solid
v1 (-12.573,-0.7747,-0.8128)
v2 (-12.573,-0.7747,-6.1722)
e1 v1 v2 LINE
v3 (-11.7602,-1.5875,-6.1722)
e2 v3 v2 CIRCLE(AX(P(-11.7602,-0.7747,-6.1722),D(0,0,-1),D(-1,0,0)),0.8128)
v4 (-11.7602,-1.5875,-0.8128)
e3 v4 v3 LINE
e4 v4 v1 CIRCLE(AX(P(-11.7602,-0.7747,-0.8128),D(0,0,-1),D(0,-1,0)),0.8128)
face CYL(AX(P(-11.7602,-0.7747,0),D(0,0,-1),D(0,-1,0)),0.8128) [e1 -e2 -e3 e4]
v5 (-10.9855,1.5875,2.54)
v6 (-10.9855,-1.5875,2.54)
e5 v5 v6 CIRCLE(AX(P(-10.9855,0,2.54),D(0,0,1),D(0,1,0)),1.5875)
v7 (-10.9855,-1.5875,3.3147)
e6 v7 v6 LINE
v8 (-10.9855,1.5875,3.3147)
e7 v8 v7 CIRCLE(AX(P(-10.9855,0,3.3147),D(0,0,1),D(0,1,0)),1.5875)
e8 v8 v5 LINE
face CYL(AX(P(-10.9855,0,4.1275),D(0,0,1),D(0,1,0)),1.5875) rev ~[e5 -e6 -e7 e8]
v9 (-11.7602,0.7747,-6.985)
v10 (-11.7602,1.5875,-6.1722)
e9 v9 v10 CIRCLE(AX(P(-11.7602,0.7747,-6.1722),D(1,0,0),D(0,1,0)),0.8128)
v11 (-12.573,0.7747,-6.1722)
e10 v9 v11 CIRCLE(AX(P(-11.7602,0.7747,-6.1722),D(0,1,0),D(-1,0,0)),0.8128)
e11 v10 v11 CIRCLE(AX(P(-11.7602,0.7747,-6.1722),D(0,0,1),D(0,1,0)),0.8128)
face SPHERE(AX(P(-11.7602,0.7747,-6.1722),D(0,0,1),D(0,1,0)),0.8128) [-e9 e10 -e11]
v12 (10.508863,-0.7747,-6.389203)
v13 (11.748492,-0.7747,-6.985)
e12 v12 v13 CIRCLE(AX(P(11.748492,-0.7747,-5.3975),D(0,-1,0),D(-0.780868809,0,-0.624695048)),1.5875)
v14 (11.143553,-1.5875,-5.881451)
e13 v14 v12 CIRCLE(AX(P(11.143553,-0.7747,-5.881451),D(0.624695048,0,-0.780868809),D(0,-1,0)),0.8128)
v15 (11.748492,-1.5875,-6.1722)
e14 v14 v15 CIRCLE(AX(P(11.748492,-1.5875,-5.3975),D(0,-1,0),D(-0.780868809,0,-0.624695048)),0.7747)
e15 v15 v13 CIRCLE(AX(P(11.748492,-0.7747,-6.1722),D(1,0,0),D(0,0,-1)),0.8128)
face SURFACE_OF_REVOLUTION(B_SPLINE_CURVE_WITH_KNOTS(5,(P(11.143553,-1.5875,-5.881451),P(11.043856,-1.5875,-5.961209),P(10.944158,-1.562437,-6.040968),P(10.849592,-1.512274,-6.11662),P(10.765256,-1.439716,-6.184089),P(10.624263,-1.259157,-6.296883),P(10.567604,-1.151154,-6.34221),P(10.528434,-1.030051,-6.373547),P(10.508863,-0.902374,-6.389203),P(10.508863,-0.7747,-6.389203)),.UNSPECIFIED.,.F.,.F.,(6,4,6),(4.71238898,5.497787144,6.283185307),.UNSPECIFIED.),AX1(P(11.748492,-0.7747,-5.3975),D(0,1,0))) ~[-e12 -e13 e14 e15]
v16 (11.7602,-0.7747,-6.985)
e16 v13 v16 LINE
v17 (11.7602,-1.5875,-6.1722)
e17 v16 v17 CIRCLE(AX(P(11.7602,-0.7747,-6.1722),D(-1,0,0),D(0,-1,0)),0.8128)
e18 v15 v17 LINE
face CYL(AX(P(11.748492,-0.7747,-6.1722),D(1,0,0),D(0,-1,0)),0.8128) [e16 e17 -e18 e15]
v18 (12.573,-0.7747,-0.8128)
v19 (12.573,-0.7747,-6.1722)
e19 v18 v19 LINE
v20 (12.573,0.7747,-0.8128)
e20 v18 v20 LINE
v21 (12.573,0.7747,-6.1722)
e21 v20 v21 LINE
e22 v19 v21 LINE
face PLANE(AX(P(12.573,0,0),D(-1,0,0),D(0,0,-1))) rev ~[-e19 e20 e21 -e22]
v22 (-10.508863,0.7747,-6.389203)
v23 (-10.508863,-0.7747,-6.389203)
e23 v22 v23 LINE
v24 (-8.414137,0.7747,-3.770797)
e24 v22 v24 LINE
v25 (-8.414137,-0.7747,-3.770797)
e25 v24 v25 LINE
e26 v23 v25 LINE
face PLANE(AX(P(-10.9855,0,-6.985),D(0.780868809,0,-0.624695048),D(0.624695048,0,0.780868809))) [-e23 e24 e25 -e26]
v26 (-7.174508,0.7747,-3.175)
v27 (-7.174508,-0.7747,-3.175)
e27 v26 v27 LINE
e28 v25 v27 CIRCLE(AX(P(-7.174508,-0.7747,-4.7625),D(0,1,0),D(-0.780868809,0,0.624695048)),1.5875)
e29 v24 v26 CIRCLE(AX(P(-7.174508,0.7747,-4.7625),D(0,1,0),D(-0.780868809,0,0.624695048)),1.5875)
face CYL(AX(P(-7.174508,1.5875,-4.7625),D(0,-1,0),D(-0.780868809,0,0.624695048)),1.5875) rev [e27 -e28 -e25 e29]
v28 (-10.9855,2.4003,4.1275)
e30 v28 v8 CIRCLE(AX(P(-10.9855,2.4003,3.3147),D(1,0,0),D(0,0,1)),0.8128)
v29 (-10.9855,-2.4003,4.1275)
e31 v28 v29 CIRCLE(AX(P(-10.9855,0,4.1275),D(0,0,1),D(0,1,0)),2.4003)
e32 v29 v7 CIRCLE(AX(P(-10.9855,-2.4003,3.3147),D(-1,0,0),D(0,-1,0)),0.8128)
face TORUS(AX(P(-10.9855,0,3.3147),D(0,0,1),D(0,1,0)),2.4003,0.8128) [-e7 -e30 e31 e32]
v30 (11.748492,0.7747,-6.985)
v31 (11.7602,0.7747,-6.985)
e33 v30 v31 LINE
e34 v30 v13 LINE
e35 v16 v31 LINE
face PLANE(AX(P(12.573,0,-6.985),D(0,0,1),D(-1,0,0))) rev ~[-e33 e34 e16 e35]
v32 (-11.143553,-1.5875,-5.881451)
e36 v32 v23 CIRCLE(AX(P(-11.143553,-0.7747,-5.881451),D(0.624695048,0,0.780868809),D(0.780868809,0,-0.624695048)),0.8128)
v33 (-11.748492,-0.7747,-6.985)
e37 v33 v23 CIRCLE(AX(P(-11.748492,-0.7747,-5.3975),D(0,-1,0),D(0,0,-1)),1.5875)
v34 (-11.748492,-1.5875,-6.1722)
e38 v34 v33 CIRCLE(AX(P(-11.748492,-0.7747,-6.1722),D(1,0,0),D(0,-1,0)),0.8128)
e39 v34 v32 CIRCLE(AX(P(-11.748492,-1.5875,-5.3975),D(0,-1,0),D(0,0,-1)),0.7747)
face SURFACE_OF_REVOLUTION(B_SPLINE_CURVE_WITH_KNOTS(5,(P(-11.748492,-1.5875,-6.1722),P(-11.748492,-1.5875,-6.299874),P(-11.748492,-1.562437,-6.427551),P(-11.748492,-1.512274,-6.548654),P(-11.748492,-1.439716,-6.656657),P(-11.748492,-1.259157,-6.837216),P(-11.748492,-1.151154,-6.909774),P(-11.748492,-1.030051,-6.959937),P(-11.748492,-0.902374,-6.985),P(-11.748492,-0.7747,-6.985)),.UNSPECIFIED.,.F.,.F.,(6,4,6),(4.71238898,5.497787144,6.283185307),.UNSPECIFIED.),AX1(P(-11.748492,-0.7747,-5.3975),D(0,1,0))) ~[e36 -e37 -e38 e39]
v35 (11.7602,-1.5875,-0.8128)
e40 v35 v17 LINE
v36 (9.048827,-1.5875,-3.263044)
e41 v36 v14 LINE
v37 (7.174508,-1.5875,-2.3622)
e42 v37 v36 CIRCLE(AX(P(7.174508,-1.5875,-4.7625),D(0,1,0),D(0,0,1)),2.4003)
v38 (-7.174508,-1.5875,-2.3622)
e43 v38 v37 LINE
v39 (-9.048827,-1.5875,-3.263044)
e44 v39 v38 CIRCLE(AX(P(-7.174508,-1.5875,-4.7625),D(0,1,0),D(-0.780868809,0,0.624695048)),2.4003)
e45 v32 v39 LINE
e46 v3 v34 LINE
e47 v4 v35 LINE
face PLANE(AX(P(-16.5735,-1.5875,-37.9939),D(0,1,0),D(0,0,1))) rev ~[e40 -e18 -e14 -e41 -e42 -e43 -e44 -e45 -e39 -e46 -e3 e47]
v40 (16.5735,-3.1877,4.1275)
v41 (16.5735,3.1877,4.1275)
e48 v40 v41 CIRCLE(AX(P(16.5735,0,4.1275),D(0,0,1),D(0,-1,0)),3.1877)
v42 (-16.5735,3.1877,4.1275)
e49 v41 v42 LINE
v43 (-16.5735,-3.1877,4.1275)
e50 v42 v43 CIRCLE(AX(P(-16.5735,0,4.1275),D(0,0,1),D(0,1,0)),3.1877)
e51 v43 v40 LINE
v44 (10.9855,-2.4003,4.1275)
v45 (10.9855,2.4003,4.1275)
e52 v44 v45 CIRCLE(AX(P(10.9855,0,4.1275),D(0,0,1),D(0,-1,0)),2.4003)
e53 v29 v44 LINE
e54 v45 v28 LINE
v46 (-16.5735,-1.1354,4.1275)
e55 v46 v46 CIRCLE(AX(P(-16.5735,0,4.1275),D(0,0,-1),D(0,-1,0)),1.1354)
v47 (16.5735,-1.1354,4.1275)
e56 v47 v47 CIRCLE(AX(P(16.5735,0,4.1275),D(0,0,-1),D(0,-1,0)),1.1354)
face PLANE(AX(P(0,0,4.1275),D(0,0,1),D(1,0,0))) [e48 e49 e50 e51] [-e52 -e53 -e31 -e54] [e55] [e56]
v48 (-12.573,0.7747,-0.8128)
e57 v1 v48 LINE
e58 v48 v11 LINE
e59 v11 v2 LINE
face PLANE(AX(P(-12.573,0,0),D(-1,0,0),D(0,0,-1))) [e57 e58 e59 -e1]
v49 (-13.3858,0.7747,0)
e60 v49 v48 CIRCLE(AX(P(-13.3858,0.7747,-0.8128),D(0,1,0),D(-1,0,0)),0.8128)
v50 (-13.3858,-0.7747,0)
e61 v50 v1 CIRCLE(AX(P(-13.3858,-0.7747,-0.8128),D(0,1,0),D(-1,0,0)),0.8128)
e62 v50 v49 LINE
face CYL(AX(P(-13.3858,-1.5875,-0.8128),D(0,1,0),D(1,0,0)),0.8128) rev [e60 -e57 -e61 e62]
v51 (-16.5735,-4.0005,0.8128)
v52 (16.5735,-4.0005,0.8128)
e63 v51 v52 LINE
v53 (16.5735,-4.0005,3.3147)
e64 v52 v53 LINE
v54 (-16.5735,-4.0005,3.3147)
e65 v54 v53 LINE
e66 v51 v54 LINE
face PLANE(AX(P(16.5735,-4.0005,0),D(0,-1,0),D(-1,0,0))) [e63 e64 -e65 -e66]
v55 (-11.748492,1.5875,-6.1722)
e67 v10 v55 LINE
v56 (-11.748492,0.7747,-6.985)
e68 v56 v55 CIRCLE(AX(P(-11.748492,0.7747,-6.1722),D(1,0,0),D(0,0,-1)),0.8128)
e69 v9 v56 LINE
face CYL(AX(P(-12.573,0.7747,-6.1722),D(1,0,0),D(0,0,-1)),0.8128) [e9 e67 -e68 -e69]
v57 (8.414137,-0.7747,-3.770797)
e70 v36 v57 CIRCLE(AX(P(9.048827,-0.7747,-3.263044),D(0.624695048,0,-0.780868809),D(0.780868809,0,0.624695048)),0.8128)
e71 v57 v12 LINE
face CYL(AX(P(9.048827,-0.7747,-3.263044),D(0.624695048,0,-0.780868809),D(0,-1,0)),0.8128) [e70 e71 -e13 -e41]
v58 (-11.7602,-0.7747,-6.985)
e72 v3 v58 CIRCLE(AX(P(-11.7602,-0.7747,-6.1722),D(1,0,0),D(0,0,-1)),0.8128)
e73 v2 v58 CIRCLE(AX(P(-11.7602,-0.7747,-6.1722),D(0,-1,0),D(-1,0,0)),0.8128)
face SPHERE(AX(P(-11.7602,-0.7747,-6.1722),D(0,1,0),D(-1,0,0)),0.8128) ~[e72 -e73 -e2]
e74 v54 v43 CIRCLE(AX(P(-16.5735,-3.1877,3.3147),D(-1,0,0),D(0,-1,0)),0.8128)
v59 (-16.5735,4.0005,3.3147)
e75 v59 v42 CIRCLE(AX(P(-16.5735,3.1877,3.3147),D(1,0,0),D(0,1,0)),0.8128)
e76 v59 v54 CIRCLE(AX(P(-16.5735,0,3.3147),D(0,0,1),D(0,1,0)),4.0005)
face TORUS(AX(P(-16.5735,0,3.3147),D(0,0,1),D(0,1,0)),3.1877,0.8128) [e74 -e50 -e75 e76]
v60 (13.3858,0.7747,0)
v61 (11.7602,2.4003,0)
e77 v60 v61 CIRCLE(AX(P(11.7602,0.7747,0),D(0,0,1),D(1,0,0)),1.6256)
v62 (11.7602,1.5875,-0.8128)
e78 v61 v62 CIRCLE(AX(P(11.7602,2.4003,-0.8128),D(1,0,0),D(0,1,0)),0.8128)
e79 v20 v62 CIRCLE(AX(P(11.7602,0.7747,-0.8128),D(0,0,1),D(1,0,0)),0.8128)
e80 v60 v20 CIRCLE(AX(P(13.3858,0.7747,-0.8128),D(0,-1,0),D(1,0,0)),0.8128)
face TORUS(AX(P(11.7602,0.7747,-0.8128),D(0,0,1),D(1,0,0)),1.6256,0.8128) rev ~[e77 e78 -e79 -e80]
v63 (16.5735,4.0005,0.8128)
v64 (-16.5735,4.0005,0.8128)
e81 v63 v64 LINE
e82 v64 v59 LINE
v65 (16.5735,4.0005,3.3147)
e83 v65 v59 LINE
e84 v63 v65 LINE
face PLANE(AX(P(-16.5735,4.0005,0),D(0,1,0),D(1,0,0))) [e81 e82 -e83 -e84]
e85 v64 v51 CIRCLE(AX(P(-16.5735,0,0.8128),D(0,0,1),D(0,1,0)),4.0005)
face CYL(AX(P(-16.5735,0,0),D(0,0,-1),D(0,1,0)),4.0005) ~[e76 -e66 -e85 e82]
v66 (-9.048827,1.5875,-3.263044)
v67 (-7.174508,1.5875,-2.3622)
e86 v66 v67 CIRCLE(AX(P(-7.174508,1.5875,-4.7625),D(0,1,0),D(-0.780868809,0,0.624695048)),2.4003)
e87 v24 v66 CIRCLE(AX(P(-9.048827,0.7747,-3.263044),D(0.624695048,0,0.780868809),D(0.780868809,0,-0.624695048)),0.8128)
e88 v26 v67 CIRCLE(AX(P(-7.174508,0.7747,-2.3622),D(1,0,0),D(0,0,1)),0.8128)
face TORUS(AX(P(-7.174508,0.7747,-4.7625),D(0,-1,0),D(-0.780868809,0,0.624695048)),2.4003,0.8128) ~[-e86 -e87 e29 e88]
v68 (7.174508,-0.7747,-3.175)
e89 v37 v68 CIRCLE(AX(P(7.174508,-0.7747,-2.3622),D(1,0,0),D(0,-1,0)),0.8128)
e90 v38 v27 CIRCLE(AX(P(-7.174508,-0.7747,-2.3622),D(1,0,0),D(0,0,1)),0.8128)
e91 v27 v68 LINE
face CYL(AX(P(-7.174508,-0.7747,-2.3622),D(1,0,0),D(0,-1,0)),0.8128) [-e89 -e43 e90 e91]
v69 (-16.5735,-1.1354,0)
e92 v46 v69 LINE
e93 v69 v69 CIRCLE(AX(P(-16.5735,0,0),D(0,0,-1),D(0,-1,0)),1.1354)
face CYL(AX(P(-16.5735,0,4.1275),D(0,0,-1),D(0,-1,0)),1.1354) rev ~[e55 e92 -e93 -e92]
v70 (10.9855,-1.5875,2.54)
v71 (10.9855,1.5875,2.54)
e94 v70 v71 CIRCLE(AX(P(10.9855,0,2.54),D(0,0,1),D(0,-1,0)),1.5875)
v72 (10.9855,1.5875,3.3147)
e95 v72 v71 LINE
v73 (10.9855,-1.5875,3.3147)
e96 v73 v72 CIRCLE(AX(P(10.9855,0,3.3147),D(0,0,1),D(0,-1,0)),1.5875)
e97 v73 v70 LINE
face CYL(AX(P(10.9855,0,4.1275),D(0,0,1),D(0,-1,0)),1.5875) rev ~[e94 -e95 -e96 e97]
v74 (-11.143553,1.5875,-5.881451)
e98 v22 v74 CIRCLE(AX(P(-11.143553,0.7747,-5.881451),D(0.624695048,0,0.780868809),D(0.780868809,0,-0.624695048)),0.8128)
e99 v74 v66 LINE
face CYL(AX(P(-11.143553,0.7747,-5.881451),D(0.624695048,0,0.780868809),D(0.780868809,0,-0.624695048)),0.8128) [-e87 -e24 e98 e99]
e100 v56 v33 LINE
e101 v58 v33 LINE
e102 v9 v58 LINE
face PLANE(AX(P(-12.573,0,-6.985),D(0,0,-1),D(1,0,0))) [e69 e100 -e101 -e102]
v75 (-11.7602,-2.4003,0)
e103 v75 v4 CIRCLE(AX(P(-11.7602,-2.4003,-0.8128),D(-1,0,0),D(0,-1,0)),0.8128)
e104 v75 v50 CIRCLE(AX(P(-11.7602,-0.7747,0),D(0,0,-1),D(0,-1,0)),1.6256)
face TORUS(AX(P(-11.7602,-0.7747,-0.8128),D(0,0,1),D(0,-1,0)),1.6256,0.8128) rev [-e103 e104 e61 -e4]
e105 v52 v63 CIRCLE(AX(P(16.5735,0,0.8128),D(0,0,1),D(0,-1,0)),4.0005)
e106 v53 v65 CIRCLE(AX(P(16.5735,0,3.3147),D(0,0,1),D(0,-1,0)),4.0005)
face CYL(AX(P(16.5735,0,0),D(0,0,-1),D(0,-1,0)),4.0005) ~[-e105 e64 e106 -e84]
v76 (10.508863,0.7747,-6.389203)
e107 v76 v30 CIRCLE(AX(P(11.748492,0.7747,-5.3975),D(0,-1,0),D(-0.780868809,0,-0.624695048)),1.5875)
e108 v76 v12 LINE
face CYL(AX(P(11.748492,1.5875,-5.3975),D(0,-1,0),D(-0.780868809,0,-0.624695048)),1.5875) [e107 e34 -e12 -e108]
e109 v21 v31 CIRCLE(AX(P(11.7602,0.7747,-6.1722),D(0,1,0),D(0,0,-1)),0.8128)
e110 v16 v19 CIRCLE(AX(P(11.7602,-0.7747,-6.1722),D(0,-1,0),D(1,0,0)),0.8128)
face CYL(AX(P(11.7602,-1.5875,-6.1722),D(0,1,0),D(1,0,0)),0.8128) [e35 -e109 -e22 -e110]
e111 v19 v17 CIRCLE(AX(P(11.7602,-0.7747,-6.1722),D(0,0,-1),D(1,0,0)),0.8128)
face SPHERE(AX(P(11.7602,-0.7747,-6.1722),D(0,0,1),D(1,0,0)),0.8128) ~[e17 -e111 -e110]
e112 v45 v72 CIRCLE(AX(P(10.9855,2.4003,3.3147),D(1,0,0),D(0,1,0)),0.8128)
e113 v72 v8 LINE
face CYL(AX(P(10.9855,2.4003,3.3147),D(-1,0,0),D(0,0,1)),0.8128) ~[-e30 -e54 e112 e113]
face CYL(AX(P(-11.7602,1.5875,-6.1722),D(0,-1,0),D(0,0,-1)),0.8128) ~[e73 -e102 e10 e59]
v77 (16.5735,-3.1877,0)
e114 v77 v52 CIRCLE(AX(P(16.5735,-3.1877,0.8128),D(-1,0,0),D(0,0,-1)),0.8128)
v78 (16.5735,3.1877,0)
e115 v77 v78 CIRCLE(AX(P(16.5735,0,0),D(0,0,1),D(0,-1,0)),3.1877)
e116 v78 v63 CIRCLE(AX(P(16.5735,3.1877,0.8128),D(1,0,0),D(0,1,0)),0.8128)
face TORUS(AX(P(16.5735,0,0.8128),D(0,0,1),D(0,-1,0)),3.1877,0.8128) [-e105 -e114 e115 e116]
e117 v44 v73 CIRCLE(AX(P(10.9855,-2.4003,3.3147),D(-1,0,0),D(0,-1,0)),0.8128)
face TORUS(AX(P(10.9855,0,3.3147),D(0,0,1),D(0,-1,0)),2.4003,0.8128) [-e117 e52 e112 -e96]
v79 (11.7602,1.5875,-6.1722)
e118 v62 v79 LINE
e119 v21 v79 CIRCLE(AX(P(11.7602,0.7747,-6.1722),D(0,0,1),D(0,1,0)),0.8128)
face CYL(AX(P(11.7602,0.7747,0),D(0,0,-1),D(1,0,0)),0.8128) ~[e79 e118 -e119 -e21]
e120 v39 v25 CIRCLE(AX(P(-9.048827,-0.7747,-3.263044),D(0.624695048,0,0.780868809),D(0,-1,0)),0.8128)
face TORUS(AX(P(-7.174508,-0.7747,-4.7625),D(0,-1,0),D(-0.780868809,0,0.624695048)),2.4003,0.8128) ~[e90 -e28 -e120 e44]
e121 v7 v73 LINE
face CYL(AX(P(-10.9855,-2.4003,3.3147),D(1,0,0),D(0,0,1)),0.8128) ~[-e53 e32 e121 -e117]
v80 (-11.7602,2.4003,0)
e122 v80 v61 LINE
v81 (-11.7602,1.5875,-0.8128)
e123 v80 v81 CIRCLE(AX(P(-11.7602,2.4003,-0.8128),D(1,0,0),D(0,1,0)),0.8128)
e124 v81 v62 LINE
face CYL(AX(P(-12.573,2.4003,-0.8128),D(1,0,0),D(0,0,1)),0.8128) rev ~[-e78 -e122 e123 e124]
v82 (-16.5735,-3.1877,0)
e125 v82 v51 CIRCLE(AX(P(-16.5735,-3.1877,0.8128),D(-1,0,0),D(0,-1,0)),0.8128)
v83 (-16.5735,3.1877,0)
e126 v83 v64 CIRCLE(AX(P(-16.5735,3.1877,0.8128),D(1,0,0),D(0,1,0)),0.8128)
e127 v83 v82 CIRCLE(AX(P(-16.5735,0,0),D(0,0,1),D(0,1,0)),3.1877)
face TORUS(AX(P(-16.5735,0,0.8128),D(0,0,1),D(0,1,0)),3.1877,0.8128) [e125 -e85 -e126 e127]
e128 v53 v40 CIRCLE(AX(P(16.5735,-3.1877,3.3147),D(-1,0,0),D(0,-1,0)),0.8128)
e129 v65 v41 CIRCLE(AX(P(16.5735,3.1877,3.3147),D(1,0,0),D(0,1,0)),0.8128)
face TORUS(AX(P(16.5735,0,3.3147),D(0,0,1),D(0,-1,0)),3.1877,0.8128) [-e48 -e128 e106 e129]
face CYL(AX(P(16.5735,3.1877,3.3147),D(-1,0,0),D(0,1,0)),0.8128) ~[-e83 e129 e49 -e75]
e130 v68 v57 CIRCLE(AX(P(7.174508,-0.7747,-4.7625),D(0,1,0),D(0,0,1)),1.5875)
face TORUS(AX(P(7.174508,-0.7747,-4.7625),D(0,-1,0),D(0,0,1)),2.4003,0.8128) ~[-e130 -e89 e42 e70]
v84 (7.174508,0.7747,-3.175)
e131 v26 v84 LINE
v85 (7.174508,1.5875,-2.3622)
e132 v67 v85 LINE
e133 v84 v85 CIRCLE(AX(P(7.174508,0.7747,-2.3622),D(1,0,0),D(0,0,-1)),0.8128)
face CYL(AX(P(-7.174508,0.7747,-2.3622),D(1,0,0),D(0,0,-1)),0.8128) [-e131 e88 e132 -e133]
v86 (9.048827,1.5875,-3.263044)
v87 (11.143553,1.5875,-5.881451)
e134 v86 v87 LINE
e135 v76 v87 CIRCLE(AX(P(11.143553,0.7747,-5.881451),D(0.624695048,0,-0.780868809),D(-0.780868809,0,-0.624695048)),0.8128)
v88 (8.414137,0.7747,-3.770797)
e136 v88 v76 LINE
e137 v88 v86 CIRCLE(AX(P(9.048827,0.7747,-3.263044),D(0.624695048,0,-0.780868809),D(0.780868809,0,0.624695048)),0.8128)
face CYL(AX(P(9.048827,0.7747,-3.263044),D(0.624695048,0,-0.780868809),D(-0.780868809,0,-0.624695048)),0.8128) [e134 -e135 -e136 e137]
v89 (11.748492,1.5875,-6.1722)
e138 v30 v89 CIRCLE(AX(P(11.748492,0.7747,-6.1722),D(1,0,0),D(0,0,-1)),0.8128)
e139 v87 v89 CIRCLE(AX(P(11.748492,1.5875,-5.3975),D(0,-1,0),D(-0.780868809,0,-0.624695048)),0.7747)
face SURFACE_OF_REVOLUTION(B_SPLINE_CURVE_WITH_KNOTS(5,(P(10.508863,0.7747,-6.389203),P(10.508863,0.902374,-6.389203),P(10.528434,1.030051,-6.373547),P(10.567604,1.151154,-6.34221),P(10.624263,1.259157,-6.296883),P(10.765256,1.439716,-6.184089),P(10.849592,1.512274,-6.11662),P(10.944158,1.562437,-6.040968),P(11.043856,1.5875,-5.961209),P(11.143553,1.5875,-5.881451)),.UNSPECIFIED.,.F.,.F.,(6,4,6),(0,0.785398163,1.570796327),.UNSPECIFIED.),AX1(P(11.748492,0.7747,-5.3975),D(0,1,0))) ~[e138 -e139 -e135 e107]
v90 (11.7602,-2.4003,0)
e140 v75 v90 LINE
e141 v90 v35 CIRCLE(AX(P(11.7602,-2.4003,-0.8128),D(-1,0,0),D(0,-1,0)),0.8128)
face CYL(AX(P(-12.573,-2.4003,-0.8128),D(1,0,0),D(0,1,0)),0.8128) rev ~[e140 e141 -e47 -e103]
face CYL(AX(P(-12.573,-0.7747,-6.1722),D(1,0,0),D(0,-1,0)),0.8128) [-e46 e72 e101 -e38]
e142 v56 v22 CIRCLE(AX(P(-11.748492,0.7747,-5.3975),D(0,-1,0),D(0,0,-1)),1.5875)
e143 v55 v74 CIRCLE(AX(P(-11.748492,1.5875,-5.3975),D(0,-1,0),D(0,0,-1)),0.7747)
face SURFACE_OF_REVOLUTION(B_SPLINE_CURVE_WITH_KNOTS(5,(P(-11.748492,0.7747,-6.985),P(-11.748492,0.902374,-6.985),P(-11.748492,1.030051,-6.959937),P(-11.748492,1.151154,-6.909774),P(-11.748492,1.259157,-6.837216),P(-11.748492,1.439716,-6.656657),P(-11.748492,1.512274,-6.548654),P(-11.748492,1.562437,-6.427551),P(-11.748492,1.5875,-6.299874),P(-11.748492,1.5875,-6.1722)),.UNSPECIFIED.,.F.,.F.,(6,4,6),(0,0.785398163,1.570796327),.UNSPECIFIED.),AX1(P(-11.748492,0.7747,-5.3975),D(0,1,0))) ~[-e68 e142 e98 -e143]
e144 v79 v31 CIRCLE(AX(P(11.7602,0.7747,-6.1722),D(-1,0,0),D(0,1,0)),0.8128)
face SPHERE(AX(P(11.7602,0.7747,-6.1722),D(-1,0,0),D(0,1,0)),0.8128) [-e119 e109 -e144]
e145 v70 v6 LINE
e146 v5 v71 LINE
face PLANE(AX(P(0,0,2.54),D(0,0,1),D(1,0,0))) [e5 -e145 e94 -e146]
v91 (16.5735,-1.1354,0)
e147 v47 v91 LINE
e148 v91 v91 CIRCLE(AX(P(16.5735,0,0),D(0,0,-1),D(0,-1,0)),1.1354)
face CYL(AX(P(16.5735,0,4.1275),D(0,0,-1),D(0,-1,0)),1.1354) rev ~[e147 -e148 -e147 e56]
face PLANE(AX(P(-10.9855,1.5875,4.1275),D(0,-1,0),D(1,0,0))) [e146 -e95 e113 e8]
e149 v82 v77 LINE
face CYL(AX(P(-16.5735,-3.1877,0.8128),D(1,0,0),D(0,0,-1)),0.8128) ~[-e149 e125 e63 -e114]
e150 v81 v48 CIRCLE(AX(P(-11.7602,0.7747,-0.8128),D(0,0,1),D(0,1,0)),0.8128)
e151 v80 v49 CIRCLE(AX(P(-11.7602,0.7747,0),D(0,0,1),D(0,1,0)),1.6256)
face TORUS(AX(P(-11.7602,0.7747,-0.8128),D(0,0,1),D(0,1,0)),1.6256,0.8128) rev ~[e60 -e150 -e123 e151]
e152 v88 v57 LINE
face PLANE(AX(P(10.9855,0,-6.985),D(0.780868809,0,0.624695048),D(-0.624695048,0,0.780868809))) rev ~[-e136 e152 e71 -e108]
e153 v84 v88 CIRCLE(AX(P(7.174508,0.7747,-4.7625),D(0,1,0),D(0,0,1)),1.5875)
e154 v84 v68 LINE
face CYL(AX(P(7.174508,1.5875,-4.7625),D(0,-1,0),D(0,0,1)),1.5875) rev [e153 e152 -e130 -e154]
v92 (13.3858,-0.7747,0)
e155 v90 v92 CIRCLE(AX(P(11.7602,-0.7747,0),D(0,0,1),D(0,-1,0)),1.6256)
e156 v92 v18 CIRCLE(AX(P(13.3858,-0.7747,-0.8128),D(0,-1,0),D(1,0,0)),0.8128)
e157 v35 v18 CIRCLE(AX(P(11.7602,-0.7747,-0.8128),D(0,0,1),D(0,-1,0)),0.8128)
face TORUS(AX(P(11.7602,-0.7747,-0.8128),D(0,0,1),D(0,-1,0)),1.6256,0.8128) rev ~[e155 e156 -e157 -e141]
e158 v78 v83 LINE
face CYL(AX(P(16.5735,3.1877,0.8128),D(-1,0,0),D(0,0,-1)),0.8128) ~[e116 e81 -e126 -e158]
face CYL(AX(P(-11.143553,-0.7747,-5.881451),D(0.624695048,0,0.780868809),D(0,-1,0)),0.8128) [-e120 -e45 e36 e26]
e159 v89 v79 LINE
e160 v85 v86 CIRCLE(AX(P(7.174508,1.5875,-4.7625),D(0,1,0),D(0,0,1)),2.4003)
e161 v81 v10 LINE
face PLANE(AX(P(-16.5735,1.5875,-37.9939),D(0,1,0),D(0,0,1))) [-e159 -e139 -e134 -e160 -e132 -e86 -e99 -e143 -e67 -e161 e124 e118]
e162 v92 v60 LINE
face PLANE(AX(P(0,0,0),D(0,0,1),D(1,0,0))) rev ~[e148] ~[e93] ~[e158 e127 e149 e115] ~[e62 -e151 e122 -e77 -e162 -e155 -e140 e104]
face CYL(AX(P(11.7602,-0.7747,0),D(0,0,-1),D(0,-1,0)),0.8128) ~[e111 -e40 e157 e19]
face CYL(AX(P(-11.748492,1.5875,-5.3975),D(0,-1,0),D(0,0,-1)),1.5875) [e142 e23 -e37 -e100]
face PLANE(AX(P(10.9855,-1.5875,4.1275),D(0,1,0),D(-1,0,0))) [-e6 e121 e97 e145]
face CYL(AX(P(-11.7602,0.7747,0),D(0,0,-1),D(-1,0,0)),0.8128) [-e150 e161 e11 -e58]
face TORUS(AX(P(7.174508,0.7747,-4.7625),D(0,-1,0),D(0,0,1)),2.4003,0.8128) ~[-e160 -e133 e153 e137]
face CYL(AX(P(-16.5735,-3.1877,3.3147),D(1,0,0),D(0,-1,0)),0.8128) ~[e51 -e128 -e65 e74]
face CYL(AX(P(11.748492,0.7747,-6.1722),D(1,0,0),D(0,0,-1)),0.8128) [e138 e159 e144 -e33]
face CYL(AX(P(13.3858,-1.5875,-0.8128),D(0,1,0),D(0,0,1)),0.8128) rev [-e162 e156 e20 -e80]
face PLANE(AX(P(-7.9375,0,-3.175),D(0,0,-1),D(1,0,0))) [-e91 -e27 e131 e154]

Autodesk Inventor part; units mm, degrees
ref_plane "YZ Plane" through (0, 0, 0) normal (1, 0, 0) x (0, 1, 0)
ref_plane "XZ Plane" through (0, 0, 0) normal (0, 1, 0) x (-1, 0, 0)
sketch "Sketch1" plane through (0, 0, 0) normal (0, 0, 1) x (1, 0, 0)
  line L0 (-16.5735, 4.0005) -> (16.5735, 4.0005)
  line L1 (16.5735, 4.0005) -> (16.5735, -4.0005) construction
  line L2 (16.5735, -4.0005) -> (-16.5735, -4.0005)
  line L3 (-16.5735, -4.0005) -> (-16.5735, 4.0005) construction
  line L4 (-16.5735, 4.0005) -> (16.5735, -4.0005) construction
  line L5 (16.5735, 4.0005) -> (-16.5735, -4.0005) construction
  arc A0 (16.5735, -4.0005) -> (16.5735, 4.0005) centre (16.5735, 0) ccw
  arc A1 (-16.5735, 4.0005) -> (-16.5735, -4.0005) centre (-16.5735, 0) ccw
  point P0 (0, 0)
  dimension "d0" = 33.147
  dimension "d1" = 8.001
  dimension "d2" = 4.0005
extrude "Extrusion1" add sketch "Sketch1" along normal blind 4.1275
sketch "Sketch2" plane through (0, 0, 4.1275) normal (0, 0, 1) x (1, 0, 0)
  line L0 (-10.9855, 1.5875) -> (10.9855, 1.5875)
  line L1 (10.9855, 1.5875) -> (10.9855, -1.5875) construction
  line L2 (10.9855, -1.5875) -> (-10.9855, -1.5875)
  line L3 (-10.9855, -1.5875) -> (-10.9855, 1.5875) construction
  line L4 (-10.9855, 1.5875) -> (10.9855, -1.5875) construction
  line L5 (10.9855, 1.5875) -> (-10.9855, -1.5875) construction
  arc A0 (-10.9855, 1.5875) -> (-10.9855, -1.5875) centre (-10.9855, 0) ccw
  arc A1 (10.9855, -1.5875) -> (10.9855, 1.5875) centre (10.9855, 0) ccw
  point P0 (0, 0)
  dimension "d5" = 21.971
  dimension "d6" = 3.175
extrude "Extrusion2" cut sketch "Sketch2" against normal blind 1.5875
sketch "Sketch3" plane through (0, 0, 4.1275) normal (0, 0, 1) x (1, 0, 0)
  arc A0 (16.5735, -4.0005) -> (16.5735, 4.0005) centre (16.5735, 0) ccw projected
  arc A1 (-16.5735, 4.0005) -> (-16.5735, -4.0005) centre (-16.5735, 0) ccw projected
  point P0 (0, 0)
hole "Hole1" at (16.5735, 0, 4.1275) at (-16.5735, 0, 4.1275) direction (0, 0, -1) diameter 2.2708 end through all thread size "4-48 UNF" class "2B" standard "ANSI Unified Screw Threads"
ref_plane "Work Plane1" through (-16.5735, 0, -37.9939) normal (0, 1, 0) x (0, 0, 1)
sketch "Sketch5" plane through (-16.5735, 0, -37.9939) normal (0, 1, 0) x (0, 0, 1)
  line L0 (37.9939, 0) -> (37.9939, 33.147) projected
  line L1 (37.9939, 4.0005) -> (31.0089, 4.0005)
  line L2 (37.9939, 4.0005) -> (44.9789, 4.0005) construction
  line L3 (31.0089, 4.0005) -> (31.0089, 5.588)
  line L4 (31.0089, 5.588) -> (34.8189, 8.636)
  line L5 (34.8189, 8.636) -> (34.8189, 24.511)
  line L6 (37.9939, -4.0005) -> (42.1214, -4.0005) projected
  line L7 (28.2149, 16.5735) -> (47.7729, 16.5735) construction
  line L8 (37.9939, 29.1465) -> (31.0089, 29.1465)
  line L9 (31.0089, 29.1465) -> (31.0089, 27.559)
  line L10 (31.0089, 27.559) -> (34.8189, 24.511)
  line L11 (34.8189, 8.636) -> (34.8189, 24.511)
  point P0 (37.9939, 16.5735)
  point P1 (34.8189, 16.5735)
  point P2 (37.9939, 16.5735)
  dimension "d16" = 6.985
  dimension "d17" = 180
  dimension "d18" = 1.5875
  dimension "d19" = 15.875
  dimension "d20" = 3.175
  dimension "d21" = 8.001
extrude "Extrusion3" add sketch "Sketch5" along normal mid plane 3.175
fillet "Fillet1" radius 1.5875 4 edges at (-7.9375, 0, -3.175) (-10.9855, 0, -6.985) (7.9375, 0, -3.175) (10.9855, 0, -6.985)
fillet "Fillet2" radius 0.8128 40 edges at (-12.573, 1.5875, -3.4925) (-11.0608, 1.5875, -6.8283) (-12.1607, 1.5875, -6.985) (-7.8622, 1.5875, -3.3317) (0, 1.5875, -3.175) (7.8622, 1.5875, -3.3317) (9.4615, 1.5875, -5.08) (11.0608, 1.5875, -6.8283) (12.1607, 1.5875, -6.985) (-9.4615, 1.5875, -5.08) (0, 1.5875, 0) (12.573, 1.5875, -3.4925) (12.573, 0, 0) (12.573, -1.5875, -3.4925) (12.573, 0, -6.985) (-12.573, 0, -6.985) (-12.573, 0, 0) (-12.573, -1.5875, -3.4925) (0, -1.5875, 0) (7.8622, -1.5875, -3.3317) (9.4615, -1.5875, -5.08) (11.0608, -1.5875, -6.8283) (12.1607, -1.5875, -6.985) (-7.8622, -1.5875, -3.3317) (-9.4615, -1.5875, -5.08) (-11.0608, -1.5875, -6.8283) (-12.1607, -1.5875, -6.985) (0, -1.5875, -3.175) (-20.574, 0, 0) (0, -4.0005, 0) (20.574, 0, 0) (0, 4.0005, 0) (-20.574, 0, 4.1275) (0, -4.0005, 4.1275) (20.574, 0, 4.1275) (0, 4.0005, 4.1275) (12.573, 0, 4.1275) (0, -1.5875, 4.1275) (-12.573, 0, 4.1275) (0, 1.5875, 4.1275)
properties part number "Front Shock Brace"
